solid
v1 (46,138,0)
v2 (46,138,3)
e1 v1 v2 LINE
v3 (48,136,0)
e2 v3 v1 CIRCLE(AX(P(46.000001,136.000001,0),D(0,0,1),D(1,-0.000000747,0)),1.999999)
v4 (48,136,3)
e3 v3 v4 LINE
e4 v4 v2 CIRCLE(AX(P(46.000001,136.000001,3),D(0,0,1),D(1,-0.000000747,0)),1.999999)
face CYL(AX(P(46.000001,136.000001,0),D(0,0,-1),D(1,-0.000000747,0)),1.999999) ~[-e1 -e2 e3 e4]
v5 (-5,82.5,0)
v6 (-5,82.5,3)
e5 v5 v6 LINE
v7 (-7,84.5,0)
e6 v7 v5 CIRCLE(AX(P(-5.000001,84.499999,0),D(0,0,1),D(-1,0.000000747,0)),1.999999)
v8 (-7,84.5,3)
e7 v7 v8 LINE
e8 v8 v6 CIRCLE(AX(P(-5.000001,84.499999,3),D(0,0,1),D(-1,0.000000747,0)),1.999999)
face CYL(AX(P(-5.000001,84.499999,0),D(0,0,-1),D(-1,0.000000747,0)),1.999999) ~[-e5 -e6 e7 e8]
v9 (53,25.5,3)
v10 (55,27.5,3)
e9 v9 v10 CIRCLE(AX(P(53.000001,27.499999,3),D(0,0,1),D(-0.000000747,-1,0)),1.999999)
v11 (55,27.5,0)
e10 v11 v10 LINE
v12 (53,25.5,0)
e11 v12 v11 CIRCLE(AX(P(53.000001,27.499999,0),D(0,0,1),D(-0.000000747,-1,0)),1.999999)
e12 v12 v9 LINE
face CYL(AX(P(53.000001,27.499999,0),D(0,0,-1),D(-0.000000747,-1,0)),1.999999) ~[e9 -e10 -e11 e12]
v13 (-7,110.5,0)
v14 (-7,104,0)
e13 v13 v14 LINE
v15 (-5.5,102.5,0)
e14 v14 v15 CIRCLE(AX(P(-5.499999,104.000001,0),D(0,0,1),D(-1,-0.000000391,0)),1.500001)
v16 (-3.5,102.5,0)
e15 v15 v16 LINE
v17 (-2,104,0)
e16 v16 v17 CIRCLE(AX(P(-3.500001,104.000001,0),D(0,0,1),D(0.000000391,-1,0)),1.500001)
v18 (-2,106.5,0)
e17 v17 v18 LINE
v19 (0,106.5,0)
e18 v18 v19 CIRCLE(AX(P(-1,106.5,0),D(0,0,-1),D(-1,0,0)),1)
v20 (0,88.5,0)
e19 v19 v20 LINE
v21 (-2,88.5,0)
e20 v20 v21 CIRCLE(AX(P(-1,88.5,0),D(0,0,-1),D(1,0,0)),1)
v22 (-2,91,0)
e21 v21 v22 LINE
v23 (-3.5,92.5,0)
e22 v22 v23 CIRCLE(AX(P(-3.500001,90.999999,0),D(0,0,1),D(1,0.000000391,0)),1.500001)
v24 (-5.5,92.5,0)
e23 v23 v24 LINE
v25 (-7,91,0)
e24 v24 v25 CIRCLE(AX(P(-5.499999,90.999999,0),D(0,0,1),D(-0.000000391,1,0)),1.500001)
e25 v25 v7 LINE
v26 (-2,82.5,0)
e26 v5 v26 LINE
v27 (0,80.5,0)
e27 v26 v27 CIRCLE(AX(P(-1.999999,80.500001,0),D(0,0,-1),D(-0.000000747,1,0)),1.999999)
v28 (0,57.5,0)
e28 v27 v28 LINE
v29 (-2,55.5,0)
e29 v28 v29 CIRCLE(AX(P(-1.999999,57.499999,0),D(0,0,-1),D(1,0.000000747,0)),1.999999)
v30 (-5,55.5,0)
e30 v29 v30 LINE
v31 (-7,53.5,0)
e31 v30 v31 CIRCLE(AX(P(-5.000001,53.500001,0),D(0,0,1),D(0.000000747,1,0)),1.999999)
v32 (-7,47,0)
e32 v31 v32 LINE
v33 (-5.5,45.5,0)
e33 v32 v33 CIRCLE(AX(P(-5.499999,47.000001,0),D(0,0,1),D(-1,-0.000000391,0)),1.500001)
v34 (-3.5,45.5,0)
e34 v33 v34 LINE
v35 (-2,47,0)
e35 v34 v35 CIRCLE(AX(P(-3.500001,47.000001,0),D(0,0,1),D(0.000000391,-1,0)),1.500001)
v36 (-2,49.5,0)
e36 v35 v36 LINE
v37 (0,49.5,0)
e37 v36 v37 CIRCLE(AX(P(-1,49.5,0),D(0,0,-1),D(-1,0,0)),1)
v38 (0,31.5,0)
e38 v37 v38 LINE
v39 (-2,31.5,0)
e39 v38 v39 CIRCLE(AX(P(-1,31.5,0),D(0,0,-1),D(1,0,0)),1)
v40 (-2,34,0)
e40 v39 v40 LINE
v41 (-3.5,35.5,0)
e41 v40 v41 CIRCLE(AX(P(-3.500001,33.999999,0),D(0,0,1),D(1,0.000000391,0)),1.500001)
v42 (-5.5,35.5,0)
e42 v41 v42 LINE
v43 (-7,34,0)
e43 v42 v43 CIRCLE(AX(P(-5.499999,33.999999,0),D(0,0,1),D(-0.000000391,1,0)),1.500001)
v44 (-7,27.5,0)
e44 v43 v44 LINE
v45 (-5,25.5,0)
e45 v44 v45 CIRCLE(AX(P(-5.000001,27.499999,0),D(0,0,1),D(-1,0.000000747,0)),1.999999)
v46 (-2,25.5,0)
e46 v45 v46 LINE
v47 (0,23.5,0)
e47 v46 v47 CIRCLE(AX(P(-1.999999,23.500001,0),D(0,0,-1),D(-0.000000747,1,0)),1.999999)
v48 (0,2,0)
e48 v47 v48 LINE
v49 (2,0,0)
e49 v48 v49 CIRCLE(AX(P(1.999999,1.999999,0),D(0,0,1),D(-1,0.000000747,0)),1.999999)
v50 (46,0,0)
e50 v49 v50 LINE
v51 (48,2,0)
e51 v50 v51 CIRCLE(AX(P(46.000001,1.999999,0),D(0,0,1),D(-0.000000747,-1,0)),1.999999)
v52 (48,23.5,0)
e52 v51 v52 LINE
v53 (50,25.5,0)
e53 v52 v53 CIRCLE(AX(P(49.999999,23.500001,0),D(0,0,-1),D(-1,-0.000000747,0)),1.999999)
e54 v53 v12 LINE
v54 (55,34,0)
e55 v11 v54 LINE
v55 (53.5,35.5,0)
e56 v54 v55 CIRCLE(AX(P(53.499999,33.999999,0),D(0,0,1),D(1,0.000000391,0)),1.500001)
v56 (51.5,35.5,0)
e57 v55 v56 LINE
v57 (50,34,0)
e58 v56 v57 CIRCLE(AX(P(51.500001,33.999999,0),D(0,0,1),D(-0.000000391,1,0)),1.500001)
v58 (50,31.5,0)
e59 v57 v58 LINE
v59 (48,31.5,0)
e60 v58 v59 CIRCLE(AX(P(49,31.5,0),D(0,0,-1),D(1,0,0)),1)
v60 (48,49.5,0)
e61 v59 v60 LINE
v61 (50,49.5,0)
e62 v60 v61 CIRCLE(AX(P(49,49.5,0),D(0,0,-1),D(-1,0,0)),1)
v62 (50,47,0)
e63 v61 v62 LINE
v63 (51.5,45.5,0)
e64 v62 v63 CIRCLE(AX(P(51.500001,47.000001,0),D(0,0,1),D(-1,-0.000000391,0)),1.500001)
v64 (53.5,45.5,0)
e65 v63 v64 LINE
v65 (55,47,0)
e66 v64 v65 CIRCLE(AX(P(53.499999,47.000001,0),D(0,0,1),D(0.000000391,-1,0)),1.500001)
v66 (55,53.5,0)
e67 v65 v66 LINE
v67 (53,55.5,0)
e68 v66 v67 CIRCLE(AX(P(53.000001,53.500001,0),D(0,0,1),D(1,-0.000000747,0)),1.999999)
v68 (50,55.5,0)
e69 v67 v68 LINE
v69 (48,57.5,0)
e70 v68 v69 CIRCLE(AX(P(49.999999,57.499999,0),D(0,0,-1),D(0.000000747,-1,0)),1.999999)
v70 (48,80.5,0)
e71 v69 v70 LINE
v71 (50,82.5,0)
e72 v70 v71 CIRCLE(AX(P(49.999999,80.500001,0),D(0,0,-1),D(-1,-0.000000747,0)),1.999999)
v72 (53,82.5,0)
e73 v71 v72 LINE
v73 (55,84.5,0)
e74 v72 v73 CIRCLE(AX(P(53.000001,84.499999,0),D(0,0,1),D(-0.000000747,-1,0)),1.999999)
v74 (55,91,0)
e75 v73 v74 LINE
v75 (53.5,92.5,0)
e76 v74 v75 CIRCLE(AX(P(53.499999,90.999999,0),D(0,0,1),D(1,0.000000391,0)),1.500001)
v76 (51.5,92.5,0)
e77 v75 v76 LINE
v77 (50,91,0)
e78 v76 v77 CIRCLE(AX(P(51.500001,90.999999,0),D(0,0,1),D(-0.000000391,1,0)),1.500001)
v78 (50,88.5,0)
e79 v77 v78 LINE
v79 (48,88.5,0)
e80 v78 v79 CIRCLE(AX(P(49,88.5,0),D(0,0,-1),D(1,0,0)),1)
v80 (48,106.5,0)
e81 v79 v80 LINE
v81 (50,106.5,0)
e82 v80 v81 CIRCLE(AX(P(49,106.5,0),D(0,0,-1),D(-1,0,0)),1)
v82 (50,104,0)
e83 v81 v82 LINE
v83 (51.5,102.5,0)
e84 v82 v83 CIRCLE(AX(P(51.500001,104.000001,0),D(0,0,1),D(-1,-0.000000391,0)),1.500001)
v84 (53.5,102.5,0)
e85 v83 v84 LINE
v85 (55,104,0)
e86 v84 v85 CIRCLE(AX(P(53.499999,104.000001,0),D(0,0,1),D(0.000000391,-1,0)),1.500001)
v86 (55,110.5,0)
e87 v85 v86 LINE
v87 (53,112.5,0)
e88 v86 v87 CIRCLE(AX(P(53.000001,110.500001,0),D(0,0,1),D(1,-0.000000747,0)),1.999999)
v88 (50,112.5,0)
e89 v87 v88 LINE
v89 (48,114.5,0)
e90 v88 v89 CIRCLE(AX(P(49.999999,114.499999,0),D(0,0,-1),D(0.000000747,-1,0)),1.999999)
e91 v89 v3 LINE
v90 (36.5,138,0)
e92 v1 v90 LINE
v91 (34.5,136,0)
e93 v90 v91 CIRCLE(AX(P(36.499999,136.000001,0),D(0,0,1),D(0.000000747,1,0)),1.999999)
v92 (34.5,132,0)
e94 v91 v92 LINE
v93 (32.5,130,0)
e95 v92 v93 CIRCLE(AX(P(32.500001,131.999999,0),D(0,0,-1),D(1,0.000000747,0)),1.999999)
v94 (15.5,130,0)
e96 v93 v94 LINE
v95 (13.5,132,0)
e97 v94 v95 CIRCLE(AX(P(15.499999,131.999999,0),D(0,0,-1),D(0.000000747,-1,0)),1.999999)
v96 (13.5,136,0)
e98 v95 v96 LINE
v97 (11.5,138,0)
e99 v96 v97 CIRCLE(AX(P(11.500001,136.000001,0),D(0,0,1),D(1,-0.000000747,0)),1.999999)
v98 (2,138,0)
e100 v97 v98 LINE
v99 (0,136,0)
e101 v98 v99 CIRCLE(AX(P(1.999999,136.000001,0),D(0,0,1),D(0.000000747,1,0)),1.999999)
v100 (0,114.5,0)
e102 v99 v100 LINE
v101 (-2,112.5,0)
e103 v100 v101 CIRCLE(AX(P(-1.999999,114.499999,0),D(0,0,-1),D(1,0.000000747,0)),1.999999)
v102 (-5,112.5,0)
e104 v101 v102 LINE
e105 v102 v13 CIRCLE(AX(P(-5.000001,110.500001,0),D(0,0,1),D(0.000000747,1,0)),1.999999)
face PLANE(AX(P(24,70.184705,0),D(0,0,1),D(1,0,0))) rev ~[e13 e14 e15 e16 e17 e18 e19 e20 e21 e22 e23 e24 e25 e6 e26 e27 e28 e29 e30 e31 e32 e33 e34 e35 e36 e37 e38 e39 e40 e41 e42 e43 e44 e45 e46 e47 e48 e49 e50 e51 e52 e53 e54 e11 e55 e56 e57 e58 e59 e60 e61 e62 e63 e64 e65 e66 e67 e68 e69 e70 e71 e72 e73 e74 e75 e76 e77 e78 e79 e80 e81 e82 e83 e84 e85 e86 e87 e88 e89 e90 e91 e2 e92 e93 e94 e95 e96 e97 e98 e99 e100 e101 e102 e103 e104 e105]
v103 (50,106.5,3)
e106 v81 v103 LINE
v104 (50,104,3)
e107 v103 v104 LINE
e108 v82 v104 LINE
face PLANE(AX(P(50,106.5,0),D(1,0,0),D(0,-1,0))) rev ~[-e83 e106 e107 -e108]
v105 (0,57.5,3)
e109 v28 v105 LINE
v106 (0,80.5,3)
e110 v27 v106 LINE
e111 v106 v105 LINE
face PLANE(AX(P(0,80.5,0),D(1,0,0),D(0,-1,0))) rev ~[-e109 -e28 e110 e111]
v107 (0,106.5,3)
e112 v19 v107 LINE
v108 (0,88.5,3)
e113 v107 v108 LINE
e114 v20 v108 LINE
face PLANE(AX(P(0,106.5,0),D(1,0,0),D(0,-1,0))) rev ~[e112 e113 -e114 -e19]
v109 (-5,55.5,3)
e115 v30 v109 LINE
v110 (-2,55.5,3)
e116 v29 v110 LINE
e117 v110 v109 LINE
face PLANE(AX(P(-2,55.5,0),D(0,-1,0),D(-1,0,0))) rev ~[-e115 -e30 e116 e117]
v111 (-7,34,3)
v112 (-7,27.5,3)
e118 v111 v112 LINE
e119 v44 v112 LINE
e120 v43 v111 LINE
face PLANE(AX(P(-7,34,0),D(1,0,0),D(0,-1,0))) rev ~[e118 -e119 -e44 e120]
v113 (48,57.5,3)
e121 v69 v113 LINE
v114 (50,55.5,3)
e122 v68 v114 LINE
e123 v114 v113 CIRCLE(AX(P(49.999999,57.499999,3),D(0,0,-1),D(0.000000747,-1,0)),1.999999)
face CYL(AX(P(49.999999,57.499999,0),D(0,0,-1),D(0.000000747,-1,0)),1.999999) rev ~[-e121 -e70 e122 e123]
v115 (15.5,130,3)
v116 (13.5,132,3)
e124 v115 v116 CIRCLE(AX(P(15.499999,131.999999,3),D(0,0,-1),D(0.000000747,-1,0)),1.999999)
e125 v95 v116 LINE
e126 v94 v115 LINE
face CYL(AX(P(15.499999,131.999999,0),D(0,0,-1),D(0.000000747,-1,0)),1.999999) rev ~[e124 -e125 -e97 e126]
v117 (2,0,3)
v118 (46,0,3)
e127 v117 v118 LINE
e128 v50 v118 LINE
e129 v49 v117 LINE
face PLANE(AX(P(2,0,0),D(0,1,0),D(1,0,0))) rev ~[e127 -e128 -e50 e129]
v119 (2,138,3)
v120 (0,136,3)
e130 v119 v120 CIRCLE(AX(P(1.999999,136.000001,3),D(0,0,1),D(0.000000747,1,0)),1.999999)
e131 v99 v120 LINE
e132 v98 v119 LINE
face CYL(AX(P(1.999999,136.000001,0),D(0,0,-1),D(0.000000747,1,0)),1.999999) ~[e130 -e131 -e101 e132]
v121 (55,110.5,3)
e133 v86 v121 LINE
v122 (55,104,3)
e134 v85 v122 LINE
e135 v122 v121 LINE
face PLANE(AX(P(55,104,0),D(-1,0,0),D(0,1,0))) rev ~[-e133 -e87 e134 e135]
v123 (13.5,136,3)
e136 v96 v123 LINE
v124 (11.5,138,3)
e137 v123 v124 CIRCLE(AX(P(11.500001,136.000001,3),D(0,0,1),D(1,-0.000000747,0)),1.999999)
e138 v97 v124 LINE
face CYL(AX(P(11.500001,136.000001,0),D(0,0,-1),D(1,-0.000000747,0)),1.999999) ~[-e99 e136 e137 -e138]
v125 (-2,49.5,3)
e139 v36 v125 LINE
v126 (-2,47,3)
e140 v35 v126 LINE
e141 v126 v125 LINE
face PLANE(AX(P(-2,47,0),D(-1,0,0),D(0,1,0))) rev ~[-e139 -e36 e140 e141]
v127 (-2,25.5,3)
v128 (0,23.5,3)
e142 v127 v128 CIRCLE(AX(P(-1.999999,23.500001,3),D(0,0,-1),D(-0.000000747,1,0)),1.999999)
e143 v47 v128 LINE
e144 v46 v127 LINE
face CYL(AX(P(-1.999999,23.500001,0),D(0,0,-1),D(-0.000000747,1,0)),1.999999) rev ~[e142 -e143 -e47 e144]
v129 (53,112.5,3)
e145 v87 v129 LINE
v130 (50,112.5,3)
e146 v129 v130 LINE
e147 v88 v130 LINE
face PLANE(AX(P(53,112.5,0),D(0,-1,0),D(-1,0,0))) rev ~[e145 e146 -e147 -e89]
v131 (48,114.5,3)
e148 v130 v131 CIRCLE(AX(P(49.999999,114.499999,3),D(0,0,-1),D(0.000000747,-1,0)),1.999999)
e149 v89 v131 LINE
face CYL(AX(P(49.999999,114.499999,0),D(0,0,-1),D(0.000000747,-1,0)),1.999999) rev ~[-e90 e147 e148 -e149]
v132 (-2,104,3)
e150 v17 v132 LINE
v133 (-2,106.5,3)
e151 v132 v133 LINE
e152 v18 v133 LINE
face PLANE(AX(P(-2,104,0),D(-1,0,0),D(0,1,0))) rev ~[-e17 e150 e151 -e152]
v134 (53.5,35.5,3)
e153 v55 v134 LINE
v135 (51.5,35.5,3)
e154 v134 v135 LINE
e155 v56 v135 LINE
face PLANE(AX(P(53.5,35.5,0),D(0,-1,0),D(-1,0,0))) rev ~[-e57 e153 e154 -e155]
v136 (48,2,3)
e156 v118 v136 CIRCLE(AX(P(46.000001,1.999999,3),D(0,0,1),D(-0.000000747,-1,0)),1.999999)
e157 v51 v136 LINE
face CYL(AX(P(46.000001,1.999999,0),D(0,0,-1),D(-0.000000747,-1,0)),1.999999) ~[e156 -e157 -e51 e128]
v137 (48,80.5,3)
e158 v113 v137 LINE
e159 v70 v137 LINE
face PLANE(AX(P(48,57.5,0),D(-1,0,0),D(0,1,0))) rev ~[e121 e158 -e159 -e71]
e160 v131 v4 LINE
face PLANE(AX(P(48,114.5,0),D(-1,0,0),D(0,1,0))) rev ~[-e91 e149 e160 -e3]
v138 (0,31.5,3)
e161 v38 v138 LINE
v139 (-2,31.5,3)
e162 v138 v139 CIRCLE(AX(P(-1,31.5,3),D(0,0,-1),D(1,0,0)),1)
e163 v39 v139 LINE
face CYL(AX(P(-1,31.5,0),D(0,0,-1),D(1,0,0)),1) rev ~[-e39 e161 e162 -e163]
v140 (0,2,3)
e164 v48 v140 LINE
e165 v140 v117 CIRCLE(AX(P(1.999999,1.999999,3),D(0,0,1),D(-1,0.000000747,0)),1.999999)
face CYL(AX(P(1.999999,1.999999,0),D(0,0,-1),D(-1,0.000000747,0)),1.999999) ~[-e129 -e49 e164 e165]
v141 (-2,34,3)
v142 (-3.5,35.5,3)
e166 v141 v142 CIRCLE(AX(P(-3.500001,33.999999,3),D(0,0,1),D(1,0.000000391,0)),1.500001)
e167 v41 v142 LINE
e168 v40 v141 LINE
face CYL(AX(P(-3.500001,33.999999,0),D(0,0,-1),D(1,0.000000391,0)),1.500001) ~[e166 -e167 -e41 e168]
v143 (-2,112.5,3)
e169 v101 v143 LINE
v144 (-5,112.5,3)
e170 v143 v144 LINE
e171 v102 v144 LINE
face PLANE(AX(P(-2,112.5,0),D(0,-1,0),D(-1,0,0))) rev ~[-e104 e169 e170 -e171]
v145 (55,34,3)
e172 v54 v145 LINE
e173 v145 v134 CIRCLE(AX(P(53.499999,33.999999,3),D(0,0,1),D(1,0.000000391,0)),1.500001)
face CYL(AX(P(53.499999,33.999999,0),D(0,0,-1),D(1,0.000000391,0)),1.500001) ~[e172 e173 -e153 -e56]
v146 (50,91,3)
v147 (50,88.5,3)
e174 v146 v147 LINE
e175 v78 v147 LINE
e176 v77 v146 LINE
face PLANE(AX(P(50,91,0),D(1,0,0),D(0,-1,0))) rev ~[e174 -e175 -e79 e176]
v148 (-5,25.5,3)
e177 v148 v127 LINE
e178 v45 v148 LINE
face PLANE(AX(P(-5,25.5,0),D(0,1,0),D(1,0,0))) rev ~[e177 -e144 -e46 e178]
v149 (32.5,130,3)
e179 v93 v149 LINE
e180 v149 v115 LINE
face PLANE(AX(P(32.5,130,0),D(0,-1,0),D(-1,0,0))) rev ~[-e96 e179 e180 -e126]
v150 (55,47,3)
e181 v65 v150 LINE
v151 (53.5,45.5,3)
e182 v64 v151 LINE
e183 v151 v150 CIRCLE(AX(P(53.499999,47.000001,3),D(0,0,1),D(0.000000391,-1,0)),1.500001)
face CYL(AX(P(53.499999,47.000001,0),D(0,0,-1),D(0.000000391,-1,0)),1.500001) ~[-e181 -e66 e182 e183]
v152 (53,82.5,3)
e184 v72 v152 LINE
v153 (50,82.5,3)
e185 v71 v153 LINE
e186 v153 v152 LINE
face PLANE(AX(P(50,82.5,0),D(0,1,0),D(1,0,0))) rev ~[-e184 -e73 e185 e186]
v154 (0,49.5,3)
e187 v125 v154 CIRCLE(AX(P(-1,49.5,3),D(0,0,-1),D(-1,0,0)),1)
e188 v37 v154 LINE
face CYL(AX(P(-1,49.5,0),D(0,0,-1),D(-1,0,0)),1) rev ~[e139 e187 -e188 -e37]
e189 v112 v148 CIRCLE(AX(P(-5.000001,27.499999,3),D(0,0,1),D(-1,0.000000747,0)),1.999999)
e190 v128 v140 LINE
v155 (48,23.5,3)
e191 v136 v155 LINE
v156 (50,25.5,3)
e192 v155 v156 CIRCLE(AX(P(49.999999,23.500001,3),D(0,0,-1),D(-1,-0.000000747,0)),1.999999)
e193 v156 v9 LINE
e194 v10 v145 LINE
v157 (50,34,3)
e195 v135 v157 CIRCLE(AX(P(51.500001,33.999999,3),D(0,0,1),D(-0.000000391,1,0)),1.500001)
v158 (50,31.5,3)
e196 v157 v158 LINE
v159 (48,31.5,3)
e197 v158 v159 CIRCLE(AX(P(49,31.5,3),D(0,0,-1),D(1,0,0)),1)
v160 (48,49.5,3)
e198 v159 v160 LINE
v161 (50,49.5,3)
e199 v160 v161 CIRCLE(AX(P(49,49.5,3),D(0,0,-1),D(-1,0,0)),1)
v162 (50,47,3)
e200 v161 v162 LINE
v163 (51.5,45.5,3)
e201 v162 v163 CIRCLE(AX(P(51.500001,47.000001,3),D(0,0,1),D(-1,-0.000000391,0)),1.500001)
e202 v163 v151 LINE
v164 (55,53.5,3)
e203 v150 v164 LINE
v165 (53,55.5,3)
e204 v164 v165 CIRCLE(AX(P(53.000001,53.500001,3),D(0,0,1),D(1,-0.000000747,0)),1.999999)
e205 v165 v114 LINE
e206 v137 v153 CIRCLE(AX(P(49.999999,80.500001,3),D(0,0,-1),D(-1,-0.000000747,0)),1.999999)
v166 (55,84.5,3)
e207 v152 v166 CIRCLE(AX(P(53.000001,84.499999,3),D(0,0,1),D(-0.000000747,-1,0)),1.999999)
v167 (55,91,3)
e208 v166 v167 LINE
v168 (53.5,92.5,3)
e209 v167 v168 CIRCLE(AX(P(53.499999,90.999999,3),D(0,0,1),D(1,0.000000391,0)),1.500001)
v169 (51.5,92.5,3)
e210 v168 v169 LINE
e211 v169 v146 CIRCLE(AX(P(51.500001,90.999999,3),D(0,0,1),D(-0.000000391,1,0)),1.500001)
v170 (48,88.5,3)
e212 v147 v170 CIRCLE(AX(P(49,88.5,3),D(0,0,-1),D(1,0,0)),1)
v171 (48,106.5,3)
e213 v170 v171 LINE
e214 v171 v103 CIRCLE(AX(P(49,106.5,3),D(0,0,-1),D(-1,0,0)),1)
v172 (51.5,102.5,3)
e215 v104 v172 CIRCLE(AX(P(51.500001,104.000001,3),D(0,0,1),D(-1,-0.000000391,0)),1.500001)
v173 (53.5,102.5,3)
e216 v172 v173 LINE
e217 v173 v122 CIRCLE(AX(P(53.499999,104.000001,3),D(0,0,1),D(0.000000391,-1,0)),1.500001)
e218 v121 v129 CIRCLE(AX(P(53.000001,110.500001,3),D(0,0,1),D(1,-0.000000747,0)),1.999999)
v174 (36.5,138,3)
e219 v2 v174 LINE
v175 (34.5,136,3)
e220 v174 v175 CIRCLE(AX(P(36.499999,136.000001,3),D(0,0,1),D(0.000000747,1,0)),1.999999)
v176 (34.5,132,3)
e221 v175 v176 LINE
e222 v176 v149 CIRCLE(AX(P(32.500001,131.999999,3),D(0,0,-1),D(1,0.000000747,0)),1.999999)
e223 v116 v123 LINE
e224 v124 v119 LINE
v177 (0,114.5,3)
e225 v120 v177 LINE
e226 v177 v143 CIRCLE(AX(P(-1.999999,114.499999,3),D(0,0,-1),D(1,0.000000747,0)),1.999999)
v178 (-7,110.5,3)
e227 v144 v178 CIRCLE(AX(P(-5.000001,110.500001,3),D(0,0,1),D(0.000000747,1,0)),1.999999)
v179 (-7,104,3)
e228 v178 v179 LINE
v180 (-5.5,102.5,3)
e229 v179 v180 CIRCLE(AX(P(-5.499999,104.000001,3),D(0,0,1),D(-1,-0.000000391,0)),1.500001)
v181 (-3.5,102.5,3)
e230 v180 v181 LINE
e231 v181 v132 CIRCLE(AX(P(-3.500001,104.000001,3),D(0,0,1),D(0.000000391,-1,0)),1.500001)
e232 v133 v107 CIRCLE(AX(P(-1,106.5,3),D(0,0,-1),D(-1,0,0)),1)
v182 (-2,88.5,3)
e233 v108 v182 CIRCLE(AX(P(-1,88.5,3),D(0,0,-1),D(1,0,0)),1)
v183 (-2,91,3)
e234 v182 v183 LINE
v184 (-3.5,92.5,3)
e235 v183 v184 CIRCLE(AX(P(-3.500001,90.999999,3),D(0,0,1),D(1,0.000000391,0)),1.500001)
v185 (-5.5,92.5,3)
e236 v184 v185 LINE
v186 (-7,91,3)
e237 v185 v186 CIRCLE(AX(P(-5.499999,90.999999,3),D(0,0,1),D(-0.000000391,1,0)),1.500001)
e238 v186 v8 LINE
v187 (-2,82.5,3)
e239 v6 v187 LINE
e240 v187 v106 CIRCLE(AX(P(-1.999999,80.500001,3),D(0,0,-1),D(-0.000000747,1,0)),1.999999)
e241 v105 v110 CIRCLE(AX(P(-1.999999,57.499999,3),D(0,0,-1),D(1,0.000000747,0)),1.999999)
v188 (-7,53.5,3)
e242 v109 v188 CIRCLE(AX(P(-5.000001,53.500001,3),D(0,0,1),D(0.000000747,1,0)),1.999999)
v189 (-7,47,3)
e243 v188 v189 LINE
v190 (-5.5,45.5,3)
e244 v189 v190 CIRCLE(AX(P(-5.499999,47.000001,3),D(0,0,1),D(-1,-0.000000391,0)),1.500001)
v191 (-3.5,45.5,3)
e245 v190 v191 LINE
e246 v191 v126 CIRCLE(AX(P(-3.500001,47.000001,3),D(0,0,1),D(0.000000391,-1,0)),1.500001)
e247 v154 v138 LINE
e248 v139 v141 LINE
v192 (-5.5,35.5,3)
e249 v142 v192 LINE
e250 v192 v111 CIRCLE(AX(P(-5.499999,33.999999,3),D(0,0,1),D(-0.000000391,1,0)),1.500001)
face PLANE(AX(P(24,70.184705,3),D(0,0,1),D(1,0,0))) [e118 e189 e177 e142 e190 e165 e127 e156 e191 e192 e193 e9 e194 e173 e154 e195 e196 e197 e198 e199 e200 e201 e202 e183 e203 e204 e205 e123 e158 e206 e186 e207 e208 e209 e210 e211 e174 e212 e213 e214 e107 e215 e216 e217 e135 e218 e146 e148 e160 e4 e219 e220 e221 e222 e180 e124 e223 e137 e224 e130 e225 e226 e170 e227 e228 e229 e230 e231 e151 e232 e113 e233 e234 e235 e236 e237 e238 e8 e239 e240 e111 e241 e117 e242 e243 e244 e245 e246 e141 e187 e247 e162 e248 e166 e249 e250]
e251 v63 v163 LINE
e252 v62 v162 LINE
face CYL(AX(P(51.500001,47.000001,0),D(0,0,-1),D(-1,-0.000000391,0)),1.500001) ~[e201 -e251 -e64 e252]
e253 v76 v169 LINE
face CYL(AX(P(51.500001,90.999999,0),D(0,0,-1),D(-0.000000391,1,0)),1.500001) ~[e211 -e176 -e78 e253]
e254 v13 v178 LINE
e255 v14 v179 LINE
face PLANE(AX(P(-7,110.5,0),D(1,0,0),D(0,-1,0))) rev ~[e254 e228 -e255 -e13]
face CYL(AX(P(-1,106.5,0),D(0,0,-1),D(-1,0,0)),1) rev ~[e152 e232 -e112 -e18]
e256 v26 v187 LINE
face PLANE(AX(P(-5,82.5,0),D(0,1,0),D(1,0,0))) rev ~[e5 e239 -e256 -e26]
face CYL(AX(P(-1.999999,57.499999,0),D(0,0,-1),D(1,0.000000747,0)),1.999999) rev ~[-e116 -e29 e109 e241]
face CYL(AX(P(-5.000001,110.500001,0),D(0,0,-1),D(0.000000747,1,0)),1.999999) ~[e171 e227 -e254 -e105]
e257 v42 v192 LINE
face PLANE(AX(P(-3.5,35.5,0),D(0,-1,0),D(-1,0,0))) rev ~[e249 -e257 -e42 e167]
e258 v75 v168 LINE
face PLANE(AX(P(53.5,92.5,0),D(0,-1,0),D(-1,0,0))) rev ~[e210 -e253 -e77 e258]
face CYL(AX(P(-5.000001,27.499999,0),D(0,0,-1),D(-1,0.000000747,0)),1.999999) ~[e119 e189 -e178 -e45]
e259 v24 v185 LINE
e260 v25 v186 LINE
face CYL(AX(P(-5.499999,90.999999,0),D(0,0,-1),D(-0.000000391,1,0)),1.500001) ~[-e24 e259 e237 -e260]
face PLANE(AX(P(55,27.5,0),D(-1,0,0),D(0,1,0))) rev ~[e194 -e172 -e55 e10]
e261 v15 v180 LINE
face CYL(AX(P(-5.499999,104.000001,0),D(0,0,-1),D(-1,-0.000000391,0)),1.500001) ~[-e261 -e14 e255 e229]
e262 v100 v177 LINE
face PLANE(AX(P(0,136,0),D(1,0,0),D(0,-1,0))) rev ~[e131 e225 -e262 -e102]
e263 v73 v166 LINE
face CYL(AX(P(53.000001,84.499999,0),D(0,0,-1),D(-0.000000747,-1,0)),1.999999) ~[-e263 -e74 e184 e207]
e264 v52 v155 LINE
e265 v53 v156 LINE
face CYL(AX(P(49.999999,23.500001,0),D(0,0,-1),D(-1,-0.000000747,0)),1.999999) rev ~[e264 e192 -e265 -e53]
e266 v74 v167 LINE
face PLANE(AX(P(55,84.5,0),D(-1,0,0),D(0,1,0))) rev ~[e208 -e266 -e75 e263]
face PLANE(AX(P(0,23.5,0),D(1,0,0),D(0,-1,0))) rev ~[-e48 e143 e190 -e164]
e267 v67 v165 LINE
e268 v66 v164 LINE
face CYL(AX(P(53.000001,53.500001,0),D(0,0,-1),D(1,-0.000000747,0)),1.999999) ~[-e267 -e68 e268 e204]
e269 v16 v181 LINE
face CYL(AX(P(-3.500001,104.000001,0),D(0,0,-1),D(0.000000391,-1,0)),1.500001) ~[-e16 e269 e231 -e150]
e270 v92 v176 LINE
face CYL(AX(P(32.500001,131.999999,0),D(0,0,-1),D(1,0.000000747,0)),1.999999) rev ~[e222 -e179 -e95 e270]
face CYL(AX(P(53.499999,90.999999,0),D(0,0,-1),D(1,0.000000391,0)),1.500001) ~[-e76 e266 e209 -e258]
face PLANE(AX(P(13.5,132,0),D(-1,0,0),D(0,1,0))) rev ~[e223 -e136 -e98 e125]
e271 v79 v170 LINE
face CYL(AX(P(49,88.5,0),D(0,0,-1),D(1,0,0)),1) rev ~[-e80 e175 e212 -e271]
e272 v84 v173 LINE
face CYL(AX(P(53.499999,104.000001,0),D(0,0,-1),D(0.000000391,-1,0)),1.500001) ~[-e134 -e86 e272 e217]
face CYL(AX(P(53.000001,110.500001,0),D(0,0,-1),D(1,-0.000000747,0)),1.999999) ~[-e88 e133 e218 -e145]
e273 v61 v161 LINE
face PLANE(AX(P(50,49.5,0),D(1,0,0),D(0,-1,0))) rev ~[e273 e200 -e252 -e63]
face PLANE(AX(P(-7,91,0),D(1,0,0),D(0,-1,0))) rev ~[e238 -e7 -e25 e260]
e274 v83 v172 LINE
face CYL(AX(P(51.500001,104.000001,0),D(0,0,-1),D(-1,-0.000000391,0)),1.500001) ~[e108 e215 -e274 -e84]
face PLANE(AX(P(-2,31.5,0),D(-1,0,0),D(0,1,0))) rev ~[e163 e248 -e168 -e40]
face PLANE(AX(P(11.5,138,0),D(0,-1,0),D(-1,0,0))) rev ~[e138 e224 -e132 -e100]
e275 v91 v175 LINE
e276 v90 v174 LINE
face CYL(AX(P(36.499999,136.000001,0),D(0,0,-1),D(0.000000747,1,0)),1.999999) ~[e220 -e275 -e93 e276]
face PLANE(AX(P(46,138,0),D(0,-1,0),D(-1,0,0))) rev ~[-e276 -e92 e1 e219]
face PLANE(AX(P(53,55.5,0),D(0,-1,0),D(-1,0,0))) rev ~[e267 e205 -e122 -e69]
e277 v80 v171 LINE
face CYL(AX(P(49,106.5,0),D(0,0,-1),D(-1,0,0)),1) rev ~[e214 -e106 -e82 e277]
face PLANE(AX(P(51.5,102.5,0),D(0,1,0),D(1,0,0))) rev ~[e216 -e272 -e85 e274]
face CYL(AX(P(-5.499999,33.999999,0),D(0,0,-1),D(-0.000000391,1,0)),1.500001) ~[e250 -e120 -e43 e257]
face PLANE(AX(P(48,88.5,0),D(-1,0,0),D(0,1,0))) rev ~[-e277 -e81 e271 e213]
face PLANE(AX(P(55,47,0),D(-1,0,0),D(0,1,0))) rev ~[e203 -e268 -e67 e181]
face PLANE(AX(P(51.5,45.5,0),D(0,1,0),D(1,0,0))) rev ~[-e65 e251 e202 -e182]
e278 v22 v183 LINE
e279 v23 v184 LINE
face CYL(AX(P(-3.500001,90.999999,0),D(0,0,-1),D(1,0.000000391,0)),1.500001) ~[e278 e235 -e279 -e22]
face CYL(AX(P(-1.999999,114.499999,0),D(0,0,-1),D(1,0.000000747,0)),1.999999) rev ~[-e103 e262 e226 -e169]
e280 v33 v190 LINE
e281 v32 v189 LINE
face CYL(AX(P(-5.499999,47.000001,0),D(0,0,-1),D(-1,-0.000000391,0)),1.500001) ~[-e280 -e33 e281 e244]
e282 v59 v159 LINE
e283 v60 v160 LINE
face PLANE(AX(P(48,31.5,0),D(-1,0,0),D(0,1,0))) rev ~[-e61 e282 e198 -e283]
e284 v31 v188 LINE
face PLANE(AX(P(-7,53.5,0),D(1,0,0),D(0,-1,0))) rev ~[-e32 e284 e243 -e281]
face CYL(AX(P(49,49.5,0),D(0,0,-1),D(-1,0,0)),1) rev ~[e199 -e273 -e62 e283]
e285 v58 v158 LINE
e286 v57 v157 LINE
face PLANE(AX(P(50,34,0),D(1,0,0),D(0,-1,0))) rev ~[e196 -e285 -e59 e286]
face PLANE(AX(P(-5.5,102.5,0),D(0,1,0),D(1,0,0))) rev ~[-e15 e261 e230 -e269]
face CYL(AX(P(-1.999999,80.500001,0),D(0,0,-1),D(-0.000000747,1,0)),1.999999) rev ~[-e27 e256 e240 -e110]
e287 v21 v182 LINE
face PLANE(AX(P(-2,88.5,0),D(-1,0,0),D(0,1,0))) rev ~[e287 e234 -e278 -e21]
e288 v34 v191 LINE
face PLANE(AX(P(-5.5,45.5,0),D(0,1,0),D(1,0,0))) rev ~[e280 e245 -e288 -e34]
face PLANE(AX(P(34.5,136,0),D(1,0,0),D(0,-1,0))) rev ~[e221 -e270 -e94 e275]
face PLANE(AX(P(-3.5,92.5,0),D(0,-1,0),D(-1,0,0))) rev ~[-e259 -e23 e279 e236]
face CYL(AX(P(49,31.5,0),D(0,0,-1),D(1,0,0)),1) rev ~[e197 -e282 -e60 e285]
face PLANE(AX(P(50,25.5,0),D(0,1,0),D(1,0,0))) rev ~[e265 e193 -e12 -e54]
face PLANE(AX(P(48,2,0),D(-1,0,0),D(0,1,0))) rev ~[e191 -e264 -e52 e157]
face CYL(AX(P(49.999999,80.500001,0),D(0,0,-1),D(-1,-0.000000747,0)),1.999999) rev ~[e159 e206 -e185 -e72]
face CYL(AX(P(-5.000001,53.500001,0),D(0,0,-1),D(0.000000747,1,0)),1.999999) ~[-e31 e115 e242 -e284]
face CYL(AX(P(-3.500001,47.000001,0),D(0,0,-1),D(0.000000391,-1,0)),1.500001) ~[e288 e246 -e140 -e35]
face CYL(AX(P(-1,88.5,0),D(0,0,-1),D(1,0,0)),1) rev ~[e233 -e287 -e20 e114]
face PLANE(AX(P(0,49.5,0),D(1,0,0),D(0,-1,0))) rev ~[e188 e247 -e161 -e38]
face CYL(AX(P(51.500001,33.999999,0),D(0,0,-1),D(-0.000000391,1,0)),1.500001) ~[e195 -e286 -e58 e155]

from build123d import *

# Parameters (mm, degrees)
F1_DEPTH = 3


with BuildPart() as f1:
    # F0 (on Top) → F1 (new body)
    with BuildSketch(Plane.XY):
        with BuildLine():
            ThreePointArc((0, 2), (0.585786, 0.585786), (2, 0))
            Line((2, 0), (24, 0))
            Line((24, 0), (46, 0))
            ThreePointArc((46, 0), (47.414214, 0.585786), (48, 2))
            Line((48, 2), (48, 23.5))
            ThreePointArc((48, 23.5), (48.585786, 24.914214), (50, 25.5))
            Line((50, 25.5), (53, 25.5))
            ThreePointArc((53, 25.5), (54.414214, 26.085786), (55, 27.5))
            Line((55, 27.5), (55, 34))
            ThreePointArc((55, 34), (54.56066, 35.06066), (53.5, 35.5))
            Line((53.5, 35.5), (51.5, 35.5))
            ThreePointArc((51.5, 35.5), (50.43934, 35.06066), (50, 34))
            Line((50, 34), (50, 31.5))
            ThreePointArc((50, 31.5), (49, 30.5), (48, 31.5))
            Line((48, 31.5), (48, 49.5))
            ThreePointArc((48, 49.5), (49, 50.5), (50, 49.5))
            Line((50, 49.5), (50, 47))
            ThreePointArc((50, 47), (50.43934, 45.93934), (51.5, 45.5))
            Line((51.5, 45.5), (53.5, 45.5))
            ThreePointArc((53.5, 45.5), (54.56066, 45.93934), (55, 47))
            Line((55, 47), (55, 53.5))
            ThreePointArc((55, 53.5), (54.414214, 54.914214), (53, 55.5))
            Line((53, 55.5), (50, 55.5))
            ThreePointArc((50, 55.5), (48.585786, 56.085786), (48, 57.5))
            Line((48, 57.5), (48, 80.5))
            ThreePointArc((48, 80.5), (48.585786, 81.914214), (50, 82.5))
            Line((50, 82.5), (53, 82.5))
            ThreePointArc((53, 82.5), (54.414214, 83.085786), (55, 84.5))
            Line((55, 84.5), (55, 91))
            ThreePointArc((55, 91), (54.56066, 92.06066), (53.5, 92.5))
            Line((53.5, 92.5), (51.5, 92.5))
            ThreePointArc((51.5, 92.5), (50.43934, 92.06066), (50, 91))
            Line((50, 91), (50, 88.5))
            ThreePointArc((50, 88.5), (49, 87.5), (48, 88.5))
            Line((48, 88.5), (48, 106.5))
            ThreePointArc((48, 106.5), (49, 107.5), (50, 106.5))
            Line((50, 106.5), (50, 104))
            ThreePointArc((50, 104), (50.43934, 102.93934), (51.5, 102.5))
            Line((51.5, 102.5), (53.5, 102.5))
            ThreePointArc((53.5, 102.5), (54.56066, 102.93934), (55, 104))
            Line((55, 104), (55, 110.5))
            ThreePointArc((55, 110.5), (54.414214, 111.914214), (53, 112.5))
            Line((53, 112.5), (50, 112.5))
            ThreePointArc((50, 112.5), (48.585786, 113.085786), (48, 114.5))
            Line((48, 114.5), (48, 136))
            ThreePointArc((48, 136), (47.414214, 137.414214), (46, 138))
            Line((46, 138), (36.5, 138))
            ThreePointArc((36.5, 138), (35.085786, 137.414214), (34.5, 136))
            Line((34.5, 136), (34.5, 132))
            ThreePointArc((34.5, 132), (33.914214, 130.585786), (32.5, 130))
            Line((32.5, 130), (24, 130))
            Line((24, 130), (15.5, 130))
            ThreePointArc((15.5, 130), (14.085786, 130.585786), (13.5, 132))
            Line((13.5, 132), (13.5, 136))
            ThreePointArc((13.5, 136), (12.914214, 137.414214), (11.5, 138))
            Line((11.5, 138), (2, 138))
            ThreePointArc((2, 138), (0.585786, 137.414214), (0, 136))
            Line((0, 136), (0, 114.5))
            ThreePointArc((0, 114.5), (-0.585786, 113.085786), (-2, 112.5))
            Line((-2, 112.5), (-5, 112.5))
            ThreePointArc((-5, 112.5), (-6.414214, 111.914214), (-7, 110.5))
            Line((-7, 110.5), (-7, 104))
            ThreePointArc((-7, 104), (-6.56066, 102.93934), (-5.5, 102.5))
            Line((-5.5, 102.5), (-3.5, 102.5))
            ThreePointArc((-3.5, 102.5), (-2.43934, 102.93934), (-2, 104))
            Line((-2, 104), (-2, 106.5))
            ThreePointArc((-2, 106.5), (-1, 107.5), (0, 106.5))
            Line((0, 106.5), (0, 88.5))
            ThreePointArc((0, 88.5), (-1, 87.5), (-2, 88.5))
            Line((-2, 88.5), (-2, 91))
            ThreePointArc((-2, 91), (-2.43934, 92.06066), (-3.5, 92.5))
            Line((-3.5, 92.5), (-5.5, 92.5))
            ThreePointArc((-5.5, 92.5), (-6.56066, 92.06066), (-7, 91))
            Line((-7, 91), (-7, 84.5))
            ThreePointArc((-7, 84.5), (-6.414214, 83.085786), (-5, 82.5))
            Line((-5, 82.5), (-2, 82.5))
            ThreePointArc((-2, 82.5), (-0.585786, 81.914214), (0, 80.5))
            Line((0, 80.5), (0, 57.5))
            ThreePointArc((0, 57.5), (-0.585786, 56.085786), (-2, 55.5))
            Line((-2, 55.5), (-5, 55.5))
            ThreePointArc((-5, 55.5), (-6.414214, 54.914214), (-7, 53.5))
            Line((-7, 53.5), (-7, 47))
            ThreePointArc((-7, 47), (-6.56066, 45.93934), (-5.5, 45.5))
            Line((-5.5, 45.5), (-3.5, 45.5))
            ThreePointArc((-3.5, 45.5), (-2.43934, 45.93934), (-2, 47))
            Line((-2, 47), (-2, 49.5))
            ThreePointArc((-2, 49.5), (-1, 50.5), (0, 49.5))
            Line((0, 49.5), (0, 31.5))
            ThreePointArc((0, 31.5), (-1, 30.5), (-2, 31.5))
            Line((-2, 31.5), (-2, 34))
            ThreePointArc((-2, 34), (-2.43934, 35.06066), (-3.5, 35.5))
            Line((-3.5, 35.5), (-5.5, 35.5))
            ThreePointArc((-5.5, 35.5), (-6.56066, 35.06066), (-7, 34))
            Line((-7, 34), (-7, 27.5))
            ThreePointArc((-7, 27.5), (-6.414214, 26.085786), (-5, 25.5))
            Line((-5, 25.5), (-2, 25.5))
            ThreePointArc((-2, 25.5), (-0.585786, 24.914214), (0, 23.5))
            Line((0, 23.5), (0, 2))
        make_face()
    extrude(amount=F1_DEPTH)


solid = f1.part
